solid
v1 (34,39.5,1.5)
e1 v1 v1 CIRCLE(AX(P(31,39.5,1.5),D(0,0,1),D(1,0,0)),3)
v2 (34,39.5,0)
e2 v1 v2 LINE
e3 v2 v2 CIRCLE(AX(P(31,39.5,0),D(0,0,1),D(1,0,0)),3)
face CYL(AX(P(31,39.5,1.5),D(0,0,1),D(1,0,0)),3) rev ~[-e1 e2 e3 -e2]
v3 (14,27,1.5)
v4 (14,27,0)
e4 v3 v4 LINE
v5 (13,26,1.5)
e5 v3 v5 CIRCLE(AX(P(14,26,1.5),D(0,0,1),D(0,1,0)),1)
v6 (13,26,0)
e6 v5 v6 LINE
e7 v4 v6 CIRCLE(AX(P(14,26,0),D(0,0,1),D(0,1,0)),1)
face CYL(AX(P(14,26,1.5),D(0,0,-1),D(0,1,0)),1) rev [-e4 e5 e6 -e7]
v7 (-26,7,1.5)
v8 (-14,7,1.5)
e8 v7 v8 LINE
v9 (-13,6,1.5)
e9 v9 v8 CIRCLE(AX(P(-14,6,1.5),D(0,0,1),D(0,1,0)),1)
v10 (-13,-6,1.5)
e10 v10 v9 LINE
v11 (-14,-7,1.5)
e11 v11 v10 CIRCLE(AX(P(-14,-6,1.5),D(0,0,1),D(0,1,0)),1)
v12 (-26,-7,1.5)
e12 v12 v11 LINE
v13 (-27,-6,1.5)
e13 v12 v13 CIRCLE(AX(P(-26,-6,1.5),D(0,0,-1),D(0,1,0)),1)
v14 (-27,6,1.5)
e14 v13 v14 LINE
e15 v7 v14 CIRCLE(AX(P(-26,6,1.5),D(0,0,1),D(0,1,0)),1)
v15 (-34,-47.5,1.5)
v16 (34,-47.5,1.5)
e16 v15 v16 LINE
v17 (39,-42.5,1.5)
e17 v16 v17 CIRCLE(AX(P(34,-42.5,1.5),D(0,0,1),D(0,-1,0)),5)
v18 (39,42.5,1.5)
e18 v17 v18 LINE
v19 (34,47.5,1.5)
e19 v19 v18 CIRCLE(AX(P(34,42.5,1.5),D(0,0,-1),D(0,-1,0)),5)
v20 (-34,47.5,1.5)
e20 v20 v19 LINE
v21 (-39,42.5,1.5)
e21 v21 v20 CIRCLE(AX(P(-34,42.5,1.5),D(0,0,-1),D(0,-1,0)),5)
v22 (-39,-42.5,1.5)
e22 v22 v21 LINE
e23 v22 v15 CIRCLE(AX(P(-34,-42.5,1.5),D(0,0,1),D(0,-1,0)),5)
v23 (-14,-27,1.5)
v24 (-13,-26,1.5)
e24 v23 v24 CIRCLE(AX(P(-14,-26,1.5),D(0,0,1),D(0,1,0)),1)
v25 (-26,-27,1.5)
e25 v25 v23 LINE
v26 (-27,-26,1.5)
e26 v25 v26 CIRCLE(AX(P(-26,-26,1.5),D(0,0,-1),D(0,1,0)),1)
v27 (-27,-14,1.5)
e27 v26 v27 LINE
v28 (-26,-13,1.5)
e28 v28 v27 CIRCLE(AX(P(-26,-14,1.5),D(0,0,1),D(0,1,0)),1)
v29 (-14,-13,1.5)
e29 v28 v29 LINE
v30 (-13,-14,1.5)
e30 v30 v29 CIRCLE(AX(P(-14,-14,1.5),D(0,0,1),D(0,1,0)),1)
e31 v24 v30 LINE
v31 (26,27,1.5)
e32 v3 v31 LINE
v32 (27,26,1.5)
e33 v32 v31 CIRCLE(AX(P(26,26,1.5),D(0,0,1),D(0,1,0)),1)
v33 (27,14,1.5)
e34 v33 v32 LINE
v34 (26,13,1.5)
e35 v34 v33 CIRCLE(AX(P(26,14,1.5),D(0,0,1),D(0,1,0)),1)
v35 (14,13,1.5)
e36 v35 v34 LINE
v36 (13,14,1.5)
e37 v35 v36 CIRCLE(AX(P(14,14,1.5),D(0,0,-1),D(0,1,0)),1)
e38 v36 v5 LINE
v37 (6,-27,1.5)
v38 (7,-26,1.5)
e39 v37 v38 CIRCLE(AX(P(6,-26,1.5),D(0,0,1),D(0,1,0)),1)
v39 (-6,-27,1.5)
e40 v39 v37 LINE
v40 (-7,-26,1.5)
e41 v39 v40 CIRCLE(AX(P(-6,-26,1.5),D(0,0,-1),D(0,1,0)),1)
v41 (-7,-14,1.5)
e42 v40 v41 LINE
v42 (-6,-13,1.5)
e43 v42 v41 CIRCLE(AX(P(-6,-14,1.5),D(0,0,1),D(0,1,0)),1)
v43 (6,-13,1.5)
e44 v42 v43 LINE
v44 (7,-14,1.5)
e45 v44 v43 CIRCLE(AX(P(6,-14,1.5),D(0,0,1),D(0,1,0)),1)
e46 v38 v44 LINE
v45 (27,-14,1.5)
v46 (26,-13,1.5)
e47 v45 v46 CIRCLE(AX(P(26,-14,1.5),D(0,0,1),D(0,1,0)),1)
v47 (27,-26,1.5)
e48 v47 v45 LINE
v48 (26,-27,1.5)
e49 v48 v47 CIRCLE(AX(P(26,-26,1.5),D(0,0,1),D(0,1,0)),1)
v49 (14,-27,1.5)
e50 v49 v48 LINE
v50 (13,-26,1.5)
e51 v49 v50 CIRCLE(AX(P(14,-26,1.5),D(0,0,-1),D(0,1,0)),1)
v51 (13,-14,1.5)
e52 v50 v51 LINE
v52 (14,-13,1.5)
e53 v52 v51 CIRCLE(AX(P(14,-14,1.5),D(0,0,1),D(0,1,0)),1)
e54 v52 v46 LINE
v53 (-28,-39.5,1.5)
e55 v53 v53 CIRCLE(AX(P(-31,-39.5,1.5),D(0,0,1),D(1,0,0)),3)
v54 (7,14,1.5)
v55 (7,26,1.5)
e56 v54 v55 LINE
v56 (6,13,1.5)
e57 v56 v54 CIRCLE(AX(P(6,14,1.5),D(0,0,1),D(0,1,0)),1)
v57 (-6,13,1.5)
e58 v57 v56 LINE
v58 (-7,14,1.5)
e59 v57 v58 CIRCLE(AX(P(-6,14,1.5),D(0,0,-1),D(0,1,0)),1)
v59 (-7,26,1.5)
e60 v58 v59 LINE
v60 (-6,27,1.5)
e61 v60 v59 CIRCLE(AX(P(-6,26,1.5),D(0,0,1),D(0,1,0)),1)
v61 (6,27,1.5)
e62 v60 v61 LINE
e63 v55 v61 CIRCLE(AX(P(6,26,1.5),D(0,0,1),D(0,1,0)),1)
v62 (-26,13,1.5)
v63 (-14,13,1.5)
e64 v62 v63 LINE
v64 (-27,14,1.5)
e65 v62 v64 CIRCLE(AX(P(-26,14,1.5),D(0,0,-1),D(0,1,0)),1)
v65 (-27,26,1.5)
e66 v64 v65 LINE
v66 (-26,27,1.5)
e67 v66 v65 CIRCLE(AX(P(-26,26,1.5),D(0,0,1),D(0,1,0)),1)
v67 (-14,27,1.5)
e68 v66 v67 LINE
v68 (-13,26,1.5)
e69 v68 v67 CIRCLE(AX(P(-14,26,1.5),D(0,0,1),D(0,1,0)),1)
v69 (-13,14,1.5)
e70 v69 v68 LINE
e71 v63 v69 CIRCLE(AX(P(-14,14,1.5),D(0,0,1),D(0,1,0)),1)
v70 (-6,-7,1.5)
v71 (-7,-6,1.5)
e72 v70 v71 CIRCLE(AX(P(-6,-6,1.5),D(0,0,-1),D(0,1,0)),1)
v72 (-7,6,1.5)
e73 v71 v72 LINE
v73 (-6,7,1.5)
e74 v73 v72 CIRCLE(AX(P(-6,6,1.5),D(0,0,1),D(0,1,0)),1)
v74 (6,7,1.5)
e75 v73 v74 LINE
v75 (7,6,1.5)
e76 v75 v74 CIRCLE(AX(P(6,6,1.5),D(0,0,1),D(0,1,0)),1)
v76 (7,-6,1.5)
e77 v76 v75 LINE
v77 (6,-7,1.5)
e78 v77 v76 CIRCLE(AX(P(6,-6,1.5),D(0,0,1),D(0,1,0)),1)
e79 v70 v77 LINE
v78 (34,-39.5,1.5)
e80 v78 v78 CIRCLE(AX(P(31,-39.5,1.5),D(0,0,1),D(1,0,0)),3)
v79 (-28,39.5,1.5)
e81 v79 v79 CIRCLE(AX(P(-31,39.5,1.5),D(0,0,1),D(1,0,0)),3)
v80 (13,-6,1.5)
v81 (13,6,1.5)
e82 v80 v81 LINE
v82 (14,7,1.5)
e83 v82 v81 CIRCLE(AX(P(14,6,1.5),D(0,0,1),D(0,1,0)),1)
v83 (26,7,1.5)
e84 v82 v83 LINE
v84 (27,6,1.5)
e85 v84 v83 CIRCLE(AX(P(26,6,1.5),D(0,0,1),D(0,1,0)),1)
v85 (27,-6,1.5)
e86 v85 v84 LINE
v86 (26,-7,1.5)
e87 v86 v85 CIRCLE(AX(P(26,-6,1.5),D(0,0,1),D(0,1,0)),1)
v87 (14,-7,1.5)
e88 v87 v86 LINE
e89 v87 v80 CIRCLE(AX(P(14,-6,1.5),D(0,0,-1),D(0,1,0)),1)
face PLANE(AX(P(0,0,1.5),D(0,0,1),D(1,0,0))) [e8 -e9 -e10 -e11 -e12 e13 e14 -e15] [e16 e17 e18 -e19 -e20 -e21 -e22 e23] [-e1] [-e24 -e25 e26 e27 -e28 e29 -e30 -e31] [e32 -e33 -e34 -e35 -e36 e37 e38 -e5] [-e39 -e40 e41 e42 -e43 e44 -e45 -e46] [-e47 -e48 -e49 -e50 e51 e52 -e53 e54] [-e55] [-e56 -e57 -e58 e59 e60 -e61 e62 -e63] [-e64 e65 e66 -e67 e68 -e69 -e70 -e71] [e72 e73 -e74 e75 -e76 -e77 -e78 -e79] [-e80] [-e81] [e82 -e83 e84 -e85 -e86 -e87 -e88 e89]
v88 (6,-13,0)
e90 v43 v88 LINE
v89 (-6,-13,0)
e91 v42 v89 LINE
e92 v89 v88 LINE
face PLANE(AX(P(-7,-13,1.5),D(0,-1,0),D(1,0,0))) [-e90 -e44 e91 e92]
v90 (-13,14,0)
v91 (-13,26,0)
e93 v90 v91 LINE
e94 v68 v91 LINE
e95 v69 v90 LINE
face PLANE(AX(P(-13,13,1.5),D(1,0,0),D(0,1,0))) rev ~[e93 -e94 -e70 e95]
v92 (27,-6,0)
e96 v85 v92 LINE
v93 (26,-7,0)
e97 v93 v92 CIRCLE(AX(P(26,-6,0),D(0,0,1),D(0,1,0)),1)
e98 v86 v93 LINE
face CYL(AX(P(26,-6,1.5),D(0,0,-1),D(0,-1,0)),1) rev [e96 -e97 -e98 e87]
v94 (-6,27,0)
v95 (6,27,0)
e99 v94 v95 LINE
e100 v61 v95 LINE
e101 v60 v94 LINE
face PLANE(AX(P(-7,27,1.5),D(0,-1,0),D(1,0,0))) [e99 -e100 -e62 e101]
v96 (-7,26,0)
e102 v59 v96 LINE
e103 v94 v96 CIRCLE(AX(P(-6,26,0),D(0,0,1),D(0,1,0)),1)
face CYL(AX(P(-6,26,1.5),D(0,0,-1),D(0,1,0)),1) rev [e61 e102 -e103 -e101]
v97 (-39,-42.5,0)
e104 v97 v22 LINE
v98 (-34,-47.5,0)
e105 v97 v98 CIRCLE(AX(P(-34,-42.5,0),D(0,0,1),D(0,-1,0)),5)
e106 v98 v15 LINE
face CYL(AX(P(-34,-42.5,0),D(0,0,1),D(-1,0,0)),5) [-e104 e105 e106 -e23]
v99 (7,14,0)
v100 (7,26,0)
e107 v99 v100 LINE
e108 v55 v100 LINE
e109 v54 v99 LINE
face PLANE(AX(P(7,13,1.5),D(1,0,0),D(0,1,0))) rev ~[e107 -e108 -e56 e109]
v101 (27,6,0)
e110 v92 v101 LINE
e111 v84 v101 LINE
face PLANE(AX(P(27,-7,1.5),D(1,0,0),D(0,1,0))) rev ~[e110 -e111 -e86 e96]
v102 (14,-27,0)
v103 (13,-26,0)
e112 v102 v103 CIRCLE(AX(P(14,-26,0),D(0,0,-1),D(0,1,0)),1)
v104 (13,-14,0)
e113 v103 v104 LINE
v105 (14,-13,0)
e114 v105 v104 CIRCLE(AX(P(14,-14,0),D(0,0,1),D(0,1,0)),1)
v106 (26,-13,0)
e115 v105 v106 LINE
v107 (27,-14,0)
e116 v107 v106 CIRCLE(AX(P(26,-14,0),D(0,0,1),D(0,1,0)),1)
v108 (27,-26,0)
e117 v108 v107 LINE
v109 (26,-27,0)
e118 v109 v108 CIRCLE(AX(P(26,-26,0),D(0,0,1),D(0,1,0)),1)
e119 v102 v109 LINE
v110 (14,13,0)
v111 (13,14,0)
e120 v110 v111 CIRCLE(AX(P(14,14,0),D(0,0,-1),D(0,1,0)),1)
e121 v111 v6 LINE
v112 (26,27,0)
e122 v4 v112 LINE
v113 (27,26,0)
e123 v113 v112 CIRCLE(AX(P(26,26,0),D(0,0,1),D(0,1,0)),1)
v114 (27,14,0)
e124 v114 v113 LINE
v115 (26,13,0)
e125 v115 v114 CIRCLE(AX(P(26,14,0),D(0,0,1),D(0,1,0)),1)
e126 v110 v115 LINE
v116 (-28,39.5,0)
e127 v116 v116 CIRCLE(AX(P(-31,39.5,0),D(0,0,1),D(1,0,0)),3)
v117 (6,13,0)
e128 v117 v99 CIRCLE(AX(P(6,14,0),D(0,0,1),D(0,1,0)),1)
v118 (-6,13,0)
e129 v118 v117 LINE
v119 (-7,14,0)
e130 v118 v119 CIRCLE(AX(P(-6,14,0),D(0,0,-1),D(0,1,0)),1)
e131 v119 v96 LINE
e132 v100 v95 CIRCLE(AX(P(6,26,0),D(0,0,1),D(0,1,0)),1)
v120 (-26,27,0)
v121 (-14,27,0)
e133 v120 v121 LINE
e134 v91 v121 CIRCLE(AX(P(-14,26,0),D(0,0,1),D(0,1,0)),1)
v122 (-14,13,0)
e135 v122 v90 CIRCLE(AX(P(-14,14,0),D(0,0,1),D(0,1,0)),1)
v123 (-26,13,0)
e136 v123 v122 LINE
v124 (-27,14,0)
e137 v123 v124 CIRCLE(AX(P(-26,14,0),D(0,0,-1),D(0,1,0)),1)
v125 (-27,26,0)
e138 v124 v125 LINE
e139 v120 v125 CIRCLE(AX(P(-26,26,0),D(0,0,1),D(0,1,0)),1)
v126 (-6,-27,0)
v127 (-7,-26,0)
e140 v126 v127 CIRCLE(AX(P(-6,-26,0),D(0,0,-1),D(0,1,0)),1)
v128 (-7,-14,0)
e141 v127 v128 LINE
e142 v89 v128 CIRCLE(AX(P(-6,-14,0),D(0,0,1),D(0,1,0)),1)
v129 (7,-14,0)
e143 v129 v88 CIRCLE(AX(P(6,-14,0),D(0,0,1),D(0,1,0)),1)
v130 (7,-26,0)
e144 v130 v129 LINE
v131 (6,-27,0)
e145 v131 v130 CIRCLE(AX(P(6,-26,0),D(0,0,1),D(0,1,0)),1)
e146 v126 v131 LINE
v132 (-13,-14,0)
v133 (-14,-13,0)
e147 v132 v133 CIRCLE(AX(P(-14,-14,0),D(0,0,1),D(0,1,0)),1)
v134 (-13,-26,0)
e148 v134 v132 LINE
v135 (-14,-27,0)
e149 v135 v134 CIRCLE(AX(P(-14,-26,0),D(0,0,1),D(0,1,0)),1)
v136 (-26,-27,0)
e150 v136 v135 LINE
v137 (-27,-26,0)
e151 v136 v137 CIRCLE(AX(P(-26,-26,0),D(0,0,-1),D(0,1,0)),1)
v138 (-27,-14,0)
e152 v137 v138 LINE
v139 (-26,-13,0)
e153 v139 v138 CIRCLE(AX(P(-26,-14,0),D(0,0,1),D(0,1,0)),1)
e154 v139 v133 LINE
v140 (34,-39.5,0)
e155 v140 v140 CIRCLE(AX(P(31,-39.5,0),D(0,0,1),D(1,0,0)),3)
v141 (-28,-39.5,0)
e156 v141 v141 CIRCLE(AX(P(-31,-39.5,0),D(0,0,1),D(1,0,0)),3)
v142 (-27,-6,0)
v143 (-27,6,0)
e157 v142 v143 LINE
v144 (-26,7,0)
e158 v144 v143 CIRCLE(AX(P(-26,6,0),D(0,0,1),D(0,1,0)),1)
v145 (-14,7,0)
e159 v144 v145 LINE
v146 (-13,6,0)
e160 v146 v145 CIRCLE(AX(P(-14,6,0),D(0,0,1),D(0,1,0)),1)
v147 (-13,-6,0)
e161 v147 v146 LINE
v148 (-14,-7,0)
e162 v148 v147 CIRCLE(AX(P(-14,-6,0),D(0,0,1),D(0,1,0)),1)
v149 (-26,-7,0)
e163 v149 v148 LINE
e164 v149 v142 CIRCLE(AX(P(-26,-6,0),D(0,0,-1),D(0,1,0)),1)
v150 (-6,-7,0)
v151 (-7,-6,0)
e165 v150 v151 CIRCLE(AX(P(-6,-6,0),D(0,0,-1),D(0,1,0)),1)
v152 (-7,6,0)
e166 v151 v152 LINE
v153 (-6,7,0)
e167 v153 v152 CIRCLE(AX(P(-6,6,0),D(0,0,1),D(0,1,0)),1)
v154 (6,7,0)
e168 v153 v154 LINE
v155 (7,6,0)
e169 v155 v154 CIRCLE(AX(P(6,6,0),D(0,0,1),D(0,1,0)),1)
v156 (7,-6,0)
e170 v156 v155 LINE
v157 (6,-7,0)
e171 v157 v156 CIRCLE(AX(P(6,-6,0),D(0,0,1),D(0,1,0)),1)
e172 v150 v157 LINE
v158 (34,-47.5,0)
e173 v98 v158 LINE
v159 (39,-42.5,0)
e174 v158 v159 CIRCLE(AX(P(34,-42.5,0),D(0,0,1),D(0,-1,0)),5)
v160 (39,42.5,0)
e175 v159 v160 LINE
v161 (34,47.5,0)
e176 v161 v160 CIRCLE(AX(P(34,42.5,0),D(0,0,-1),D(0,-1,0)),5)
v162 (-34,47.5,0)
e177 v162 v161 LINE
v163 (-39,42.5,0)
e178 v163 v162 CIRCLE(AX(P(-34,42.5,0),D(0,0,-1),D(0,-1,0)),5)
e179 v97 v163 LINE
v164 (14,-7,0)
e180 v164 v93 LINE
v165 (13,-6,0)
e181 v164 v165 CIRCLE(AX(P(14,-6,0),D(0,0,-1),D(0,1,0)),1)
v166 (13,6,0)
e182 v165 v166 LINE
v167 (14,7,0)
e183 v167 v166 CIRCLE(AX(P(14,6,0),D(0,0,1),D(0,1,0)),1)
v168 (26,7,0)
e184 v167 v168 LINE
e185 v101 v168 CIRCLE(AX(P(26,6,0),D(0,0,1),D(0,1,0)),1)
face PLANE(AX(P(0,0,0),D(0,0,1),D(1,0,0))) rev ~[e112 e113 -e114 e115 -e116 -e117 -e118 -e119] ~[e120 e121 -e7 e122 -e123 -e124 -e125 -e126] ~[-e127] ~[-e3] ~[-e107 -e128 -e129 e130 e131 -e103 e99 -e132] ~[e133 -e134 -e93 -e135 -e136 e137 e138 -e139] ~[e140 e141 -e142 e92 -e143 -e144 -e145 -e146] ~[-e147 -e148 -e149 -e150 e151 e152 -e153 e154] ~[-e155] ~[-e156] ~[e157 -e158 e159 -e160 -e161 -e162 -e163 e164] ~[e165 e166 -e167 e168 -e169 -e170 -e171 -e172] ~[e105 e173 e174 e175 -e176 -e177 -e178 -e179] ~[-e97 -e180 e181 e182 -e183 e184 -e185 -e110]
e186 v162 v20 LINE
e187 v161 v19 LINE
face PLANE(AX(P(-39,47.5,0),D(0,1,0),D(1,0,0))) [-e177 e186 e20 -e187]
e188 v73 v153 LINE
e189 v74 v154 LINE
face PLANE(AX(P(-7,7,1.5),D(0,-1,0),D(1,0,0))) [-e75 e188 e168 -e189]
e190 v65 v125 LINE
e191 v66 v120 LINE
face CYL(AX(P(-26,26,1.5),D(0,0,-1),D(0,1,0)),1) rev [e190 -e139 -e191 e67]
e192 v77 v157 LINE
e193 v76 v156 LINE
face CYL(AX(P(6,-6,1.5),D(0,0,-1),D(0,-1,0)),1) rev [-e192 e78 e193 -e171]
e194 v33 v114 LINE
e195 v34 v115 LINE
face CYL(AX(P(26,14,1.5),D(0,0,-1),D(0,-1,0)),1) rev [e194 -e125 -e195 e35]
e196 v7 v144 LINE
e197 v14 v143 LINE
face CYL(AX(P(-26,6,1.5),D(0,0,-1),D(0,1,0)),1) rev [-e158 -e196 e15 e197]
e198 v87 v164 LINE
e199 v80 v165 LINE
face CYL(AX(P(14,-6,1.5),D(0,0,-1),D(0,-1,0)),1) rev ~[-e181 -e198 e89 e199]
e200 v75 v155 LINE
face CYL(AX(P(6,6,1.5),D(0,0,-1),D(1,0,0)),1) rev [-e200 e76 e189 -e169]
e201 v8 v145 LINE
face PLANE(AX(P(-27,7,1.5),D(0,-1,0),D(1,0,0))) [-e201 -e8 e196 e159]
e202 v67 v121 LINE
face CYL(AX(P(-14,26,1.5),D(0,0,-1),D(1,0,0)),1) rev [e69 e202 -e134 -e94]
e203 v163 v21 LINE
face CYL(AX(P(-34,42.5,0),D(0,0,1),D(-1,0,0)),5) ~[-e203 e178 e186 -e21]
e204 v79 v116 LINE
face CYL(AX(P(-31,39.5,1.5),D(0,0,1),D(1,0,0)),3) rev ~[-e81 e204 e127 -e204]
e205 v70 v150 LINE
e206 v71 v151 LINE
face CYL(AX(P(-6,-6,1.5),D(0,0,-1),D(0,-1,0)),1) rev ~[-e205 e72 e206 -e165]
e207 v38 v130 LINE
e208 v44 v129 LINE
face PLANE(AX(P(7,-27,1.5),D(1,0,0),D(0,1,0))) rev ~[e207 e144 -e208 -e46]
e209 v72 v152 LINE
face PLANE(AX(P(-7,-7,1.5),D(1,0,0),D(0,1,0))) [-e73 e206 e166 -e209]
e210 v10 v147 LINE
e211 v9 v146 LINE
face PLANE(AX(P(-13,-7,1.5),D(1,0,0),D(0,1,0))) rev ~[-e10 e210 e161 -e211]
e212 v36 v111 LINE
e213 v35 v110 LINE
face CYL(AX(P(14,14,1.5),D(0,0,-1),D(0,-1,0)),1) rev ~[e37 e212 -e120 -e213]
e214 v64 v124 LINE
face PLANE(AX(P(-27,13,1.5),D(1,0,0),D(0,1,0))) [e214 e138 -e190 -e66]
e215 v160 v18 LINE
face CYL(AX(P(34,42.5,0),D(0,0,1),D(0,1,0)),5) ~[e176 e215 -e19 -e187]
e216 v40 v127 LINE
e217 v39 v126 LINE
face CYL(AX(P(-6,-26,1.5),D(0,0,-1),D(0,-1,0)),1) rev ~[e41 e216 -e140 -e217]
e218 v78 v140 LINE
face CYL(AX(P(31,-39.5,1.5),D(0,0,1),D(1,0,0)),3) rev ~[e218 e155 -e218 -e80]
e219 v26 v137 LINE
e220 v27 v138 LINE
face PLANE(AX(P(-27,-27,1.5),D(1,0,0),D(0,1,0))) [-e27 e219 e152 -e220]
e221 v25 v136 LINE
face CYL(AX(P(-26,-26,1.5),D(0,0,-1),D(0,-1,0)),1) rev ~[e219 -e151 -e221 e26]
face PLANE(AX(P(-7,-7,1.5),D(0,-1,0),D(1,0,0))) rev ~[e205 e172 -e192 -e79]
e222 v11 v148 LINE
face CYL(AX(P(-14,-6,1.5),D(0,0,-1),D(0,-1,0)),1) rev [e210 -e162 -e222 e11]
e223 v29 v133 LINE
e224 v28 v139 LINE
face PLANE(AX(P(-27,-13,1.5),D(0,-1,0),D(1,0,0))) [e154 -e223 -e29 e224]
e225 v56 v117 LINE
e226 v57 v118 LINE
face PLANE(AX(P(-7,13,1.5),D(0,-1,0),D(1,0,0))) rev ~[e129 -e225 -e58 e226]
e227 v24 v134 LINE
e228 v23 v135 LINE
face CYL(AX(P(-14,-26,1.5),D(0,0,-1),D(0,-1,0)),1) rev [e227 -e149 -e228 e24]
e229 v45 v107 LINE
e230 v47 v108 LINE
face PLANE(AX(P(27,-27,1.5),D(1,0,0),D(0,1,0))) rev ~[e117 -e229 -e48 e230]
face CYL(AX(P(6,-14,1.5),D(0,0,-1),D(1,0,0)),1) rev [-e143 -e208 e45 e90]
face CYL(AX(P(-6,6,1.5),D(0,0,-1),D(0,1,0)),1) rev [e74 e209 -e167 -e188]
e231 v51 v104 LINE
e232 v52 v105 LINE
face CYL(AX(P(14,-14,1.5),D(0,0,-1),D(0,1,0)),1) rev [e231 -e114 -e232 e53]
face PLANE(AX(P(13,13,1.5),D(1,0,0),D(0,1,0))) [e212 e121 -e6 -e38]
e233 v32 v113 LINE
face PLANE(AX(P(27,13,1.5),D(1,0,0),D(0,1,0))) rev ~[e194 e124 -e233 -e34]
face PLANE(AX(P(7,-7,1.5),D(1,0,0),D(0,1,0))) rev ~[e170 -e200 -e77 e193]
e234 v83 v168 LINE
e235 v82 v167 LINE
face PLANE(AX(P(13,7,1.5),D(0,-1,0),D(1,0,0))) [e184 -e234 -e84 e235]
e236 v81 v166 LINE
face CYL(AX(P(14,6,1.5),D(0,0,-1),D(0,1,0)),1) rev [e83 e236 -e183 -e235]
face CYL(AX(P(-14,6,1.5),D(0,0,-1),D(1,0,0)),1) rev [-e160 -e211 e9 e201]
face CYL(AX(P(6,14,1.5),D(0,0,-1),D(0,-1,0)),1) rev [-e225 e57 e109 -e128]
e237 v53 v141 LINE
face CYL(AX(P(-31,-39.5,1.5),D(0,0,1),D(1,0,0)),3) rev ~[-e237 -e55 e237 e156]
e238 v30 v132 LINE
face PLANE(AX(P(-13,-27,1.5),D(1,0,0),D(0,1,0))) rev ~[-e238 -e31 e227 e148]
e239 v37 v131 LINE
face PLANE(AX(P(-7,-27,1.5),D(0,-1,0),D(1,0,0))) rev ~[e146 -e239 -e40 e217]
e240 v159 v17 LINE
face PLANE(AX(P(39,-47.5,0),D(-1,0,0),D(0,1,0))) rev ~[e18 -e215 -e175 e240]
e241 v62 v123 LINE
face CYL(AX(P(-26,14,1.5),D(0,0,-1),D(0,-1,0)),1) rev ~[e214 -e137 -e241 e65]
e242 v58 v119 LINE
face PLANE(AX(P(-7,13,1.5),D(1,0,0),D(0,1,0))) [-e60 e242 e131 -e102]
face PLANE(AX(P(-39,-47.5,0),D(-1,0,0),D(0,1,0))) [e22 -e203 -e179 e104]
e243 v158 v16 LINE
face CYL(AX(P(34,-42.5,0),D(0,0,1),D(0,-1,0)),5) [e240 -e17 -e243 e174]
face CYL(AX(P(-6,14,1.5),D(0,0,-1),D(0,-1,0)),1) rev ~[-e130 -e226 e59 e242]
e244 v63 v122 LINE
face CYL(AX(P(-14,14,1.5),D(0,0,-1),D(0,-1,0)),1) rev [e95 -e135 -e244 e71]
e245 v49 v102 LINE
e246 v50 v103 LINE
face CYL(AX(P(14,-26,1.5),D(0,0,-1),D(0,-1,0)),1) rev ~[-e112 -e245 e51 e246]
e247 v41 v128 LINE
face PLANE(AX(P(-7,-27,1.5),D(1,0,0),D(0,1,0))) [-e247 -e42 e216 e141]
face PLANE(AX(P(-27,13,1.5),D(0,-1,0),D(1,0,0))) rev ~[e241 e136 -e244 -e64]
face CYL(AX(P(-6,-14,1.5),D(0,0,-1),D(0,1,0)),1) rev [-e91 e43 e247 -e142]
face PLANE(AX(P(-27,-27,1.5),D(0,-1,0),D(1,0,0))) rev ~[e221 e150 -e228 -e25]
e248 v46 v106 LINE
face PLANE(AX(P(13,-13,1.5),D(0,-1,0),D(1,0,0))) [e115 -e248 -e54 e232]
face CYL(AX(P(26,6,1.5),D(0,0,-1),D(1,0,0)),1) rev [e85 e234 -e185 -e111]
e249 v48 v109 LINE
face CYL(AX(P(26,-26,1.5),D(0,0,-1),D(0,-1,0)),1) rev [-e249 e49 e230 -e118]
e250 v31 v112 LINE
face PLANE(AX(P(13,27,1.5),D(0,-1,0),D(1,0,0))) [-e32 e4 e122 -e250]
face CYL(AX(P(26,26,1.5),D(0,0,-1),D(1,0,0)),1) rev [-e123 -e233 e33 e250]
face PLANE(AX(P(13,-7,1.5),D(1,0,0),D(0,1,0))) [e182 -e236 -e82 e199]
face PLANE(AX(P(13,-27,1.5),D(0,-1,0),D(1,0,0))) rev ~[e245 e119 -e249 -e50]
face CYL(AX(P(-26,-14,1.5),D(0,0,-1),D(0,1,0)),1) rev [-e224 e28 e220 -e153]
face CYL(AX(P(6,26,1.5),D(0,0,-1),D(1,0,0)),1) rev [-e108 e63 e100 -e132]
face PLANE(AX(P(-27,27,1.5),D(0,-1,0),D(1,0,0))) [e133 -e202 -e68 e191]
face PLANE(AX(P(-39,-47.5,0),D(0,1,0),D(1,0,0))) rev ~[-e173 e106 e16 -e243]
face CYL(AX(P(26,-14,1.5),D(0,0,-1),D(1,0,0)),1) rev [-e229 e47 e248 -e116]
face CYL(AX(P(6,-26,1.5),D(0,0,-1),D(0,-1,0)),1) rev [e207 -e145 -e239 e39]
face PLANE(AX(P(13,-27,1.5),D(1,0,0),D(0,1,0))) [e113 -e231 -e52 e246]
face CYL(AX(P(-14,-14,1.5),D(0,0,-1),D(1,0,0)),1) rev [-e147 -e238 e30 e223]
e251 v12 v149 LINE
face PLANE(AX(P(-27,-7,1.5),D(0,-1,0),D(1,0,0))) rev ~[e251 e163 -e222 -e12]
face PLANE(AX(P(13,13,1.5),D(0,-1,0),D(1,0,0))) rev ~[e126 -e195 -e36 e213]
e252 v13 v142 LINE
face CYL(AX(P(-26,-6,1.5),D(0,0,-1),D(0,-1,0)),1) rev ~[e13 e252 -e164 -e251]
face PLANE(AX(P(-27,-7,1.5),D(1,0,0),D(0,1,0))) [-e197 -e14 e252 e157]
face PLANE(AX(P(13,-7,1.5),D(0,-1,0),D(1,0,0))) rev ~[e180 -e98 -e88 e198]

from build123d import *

# Parameters (mm, degrees)
SKETCH_W        = 78
SKETCH_H        = 95
PAD_DEPTH       = 1.5
SKETCH002_W     = 14
SKETCH002_H     = 14
POCKET_DEPTH    = 1.501
FILLET_R        = 1
SKETCH003_R     = 3
POCKET001_DEPTH = 1.501
FILLET001_R     = 5


with BuildPart() as part:
    # Sketch → Pad (new body)
    with BuildSketch(Plane.XY):
        Rectangle(SKETCH_W, SKETCH_H)
    extrude(amount=PAD_DEPTH)

    # Sketch002 (on Face6 of Pad) → Pocket (cut, through all)
    with BuildSketch(Plane.XY.offset(1.5)):
        with Locations((-20, 20)):
            Rectangle(SKETCH002_W, SKETCH002_H)
        with Locations((0, 20)):
            Rectangle(SKETCH002_W, SKETCH002_H)
        with Locations((20, 20)):
            Rectangle(SKETCH002_W, SKETCH002_H)
        with Locations((-20, 0)):
            Rectangle(SKETCH002_W, SKETCH002_H)
        Rectangle(SKETCH002_W, SKETCH002_H)
        with Locations((20, 0)):
            Rectangle(SKETCH002_W, SKETCH002_H)
        with Locations((-20, -20)):
            Rectangle(SKETCH002_W, SKETCH002_H)
        with Locations((0, -20)):
            Rectangle(SKETCH002_W, SKETCH002_H)
        with Locations((20, -20)):
            Rectangle(SKETCH002_W, SKETCH002_H)
    extrude(amount=-POCKET_DEPTH, mode=Mode.SUBTRACT)

    # Fillet
    fillet_edges = [part.edges().sort_by_distance(p)[0] for p in [
        (-27, 27, 0.75),
        (-27, 7, 0.75),
        (-27, -13, 0.75),
        (-7, 27, 0.75),
        (-7, 7, 0.75),
        (-7, -13, 0.75),
        (13, -13, 0.75),
        (13, 7, 0.75),
        (13, 27, 0.75),
        (-13, 27, 0.75),
        (7, 27, 0.75),
        (27, 27, 0.75),
        (-13, 7, 0.75),
        (7, 7, 0.75),
        (27, 7, 0.75),
        (-13, -13, 0.75),
        (7, -13, 0.75),
        (27, -13, 0.75),
        (27, 13, 0.75),
        (7, 13, 0.75),
        (-13, 13, 0.75),
        (27, -7, 0.75),
        (7, -7, 0.75),
        (-13, -7, 0.75),
        (27, -27, 0.75),
        (7, -27, 0.75),
        (-13, -27, 0.75),
        (13, -27, 0.75),
        (-7, -27, 0.75),
        (-27, -27, 0.75),
        (13, -7, 0.75),
        (-7, -7, 0.75),
        (-27, -7, 0.75),
        (13, 13, 0.75),
        (-7, 13, 0.75),
        (-27, 13, 0.75),
    ]]
    fillet(fillet_edges, radius=FILLET_R)

    # Sketch003 (on Face78 of Fillet) → Pocket001 (cut, through all)
    with BuildSketch(Plane.XY.offset(1.5)):
        with Locations((-31, 39.5)):
            Circle(SKETCH003_R)
        with Locations((31, 39.5)):
            Circle(SKETCH003_R)
        with Locations((31, -39.5)):
            Circle(SKETCH003_R)
        with Locations((-31, -39.5)):
            Circle(SKETCH003_R)
    extrude(amount=-POCKET001_DEPTH, mode=Mode.SUBTRACT)

    # Fillet001
    fillet001_edges = [part.edges().sort_by_distance(p)[0] for p in [
        (39, -47.5, 0.75),
        (-39, -47.5, 0.75),
        (-39, 47.5, 0.75),
        (39, 47.5, 0.75),
    ]]
    fillet(fillet001_edges, radius=FILLET001_R)


solid = part.part
